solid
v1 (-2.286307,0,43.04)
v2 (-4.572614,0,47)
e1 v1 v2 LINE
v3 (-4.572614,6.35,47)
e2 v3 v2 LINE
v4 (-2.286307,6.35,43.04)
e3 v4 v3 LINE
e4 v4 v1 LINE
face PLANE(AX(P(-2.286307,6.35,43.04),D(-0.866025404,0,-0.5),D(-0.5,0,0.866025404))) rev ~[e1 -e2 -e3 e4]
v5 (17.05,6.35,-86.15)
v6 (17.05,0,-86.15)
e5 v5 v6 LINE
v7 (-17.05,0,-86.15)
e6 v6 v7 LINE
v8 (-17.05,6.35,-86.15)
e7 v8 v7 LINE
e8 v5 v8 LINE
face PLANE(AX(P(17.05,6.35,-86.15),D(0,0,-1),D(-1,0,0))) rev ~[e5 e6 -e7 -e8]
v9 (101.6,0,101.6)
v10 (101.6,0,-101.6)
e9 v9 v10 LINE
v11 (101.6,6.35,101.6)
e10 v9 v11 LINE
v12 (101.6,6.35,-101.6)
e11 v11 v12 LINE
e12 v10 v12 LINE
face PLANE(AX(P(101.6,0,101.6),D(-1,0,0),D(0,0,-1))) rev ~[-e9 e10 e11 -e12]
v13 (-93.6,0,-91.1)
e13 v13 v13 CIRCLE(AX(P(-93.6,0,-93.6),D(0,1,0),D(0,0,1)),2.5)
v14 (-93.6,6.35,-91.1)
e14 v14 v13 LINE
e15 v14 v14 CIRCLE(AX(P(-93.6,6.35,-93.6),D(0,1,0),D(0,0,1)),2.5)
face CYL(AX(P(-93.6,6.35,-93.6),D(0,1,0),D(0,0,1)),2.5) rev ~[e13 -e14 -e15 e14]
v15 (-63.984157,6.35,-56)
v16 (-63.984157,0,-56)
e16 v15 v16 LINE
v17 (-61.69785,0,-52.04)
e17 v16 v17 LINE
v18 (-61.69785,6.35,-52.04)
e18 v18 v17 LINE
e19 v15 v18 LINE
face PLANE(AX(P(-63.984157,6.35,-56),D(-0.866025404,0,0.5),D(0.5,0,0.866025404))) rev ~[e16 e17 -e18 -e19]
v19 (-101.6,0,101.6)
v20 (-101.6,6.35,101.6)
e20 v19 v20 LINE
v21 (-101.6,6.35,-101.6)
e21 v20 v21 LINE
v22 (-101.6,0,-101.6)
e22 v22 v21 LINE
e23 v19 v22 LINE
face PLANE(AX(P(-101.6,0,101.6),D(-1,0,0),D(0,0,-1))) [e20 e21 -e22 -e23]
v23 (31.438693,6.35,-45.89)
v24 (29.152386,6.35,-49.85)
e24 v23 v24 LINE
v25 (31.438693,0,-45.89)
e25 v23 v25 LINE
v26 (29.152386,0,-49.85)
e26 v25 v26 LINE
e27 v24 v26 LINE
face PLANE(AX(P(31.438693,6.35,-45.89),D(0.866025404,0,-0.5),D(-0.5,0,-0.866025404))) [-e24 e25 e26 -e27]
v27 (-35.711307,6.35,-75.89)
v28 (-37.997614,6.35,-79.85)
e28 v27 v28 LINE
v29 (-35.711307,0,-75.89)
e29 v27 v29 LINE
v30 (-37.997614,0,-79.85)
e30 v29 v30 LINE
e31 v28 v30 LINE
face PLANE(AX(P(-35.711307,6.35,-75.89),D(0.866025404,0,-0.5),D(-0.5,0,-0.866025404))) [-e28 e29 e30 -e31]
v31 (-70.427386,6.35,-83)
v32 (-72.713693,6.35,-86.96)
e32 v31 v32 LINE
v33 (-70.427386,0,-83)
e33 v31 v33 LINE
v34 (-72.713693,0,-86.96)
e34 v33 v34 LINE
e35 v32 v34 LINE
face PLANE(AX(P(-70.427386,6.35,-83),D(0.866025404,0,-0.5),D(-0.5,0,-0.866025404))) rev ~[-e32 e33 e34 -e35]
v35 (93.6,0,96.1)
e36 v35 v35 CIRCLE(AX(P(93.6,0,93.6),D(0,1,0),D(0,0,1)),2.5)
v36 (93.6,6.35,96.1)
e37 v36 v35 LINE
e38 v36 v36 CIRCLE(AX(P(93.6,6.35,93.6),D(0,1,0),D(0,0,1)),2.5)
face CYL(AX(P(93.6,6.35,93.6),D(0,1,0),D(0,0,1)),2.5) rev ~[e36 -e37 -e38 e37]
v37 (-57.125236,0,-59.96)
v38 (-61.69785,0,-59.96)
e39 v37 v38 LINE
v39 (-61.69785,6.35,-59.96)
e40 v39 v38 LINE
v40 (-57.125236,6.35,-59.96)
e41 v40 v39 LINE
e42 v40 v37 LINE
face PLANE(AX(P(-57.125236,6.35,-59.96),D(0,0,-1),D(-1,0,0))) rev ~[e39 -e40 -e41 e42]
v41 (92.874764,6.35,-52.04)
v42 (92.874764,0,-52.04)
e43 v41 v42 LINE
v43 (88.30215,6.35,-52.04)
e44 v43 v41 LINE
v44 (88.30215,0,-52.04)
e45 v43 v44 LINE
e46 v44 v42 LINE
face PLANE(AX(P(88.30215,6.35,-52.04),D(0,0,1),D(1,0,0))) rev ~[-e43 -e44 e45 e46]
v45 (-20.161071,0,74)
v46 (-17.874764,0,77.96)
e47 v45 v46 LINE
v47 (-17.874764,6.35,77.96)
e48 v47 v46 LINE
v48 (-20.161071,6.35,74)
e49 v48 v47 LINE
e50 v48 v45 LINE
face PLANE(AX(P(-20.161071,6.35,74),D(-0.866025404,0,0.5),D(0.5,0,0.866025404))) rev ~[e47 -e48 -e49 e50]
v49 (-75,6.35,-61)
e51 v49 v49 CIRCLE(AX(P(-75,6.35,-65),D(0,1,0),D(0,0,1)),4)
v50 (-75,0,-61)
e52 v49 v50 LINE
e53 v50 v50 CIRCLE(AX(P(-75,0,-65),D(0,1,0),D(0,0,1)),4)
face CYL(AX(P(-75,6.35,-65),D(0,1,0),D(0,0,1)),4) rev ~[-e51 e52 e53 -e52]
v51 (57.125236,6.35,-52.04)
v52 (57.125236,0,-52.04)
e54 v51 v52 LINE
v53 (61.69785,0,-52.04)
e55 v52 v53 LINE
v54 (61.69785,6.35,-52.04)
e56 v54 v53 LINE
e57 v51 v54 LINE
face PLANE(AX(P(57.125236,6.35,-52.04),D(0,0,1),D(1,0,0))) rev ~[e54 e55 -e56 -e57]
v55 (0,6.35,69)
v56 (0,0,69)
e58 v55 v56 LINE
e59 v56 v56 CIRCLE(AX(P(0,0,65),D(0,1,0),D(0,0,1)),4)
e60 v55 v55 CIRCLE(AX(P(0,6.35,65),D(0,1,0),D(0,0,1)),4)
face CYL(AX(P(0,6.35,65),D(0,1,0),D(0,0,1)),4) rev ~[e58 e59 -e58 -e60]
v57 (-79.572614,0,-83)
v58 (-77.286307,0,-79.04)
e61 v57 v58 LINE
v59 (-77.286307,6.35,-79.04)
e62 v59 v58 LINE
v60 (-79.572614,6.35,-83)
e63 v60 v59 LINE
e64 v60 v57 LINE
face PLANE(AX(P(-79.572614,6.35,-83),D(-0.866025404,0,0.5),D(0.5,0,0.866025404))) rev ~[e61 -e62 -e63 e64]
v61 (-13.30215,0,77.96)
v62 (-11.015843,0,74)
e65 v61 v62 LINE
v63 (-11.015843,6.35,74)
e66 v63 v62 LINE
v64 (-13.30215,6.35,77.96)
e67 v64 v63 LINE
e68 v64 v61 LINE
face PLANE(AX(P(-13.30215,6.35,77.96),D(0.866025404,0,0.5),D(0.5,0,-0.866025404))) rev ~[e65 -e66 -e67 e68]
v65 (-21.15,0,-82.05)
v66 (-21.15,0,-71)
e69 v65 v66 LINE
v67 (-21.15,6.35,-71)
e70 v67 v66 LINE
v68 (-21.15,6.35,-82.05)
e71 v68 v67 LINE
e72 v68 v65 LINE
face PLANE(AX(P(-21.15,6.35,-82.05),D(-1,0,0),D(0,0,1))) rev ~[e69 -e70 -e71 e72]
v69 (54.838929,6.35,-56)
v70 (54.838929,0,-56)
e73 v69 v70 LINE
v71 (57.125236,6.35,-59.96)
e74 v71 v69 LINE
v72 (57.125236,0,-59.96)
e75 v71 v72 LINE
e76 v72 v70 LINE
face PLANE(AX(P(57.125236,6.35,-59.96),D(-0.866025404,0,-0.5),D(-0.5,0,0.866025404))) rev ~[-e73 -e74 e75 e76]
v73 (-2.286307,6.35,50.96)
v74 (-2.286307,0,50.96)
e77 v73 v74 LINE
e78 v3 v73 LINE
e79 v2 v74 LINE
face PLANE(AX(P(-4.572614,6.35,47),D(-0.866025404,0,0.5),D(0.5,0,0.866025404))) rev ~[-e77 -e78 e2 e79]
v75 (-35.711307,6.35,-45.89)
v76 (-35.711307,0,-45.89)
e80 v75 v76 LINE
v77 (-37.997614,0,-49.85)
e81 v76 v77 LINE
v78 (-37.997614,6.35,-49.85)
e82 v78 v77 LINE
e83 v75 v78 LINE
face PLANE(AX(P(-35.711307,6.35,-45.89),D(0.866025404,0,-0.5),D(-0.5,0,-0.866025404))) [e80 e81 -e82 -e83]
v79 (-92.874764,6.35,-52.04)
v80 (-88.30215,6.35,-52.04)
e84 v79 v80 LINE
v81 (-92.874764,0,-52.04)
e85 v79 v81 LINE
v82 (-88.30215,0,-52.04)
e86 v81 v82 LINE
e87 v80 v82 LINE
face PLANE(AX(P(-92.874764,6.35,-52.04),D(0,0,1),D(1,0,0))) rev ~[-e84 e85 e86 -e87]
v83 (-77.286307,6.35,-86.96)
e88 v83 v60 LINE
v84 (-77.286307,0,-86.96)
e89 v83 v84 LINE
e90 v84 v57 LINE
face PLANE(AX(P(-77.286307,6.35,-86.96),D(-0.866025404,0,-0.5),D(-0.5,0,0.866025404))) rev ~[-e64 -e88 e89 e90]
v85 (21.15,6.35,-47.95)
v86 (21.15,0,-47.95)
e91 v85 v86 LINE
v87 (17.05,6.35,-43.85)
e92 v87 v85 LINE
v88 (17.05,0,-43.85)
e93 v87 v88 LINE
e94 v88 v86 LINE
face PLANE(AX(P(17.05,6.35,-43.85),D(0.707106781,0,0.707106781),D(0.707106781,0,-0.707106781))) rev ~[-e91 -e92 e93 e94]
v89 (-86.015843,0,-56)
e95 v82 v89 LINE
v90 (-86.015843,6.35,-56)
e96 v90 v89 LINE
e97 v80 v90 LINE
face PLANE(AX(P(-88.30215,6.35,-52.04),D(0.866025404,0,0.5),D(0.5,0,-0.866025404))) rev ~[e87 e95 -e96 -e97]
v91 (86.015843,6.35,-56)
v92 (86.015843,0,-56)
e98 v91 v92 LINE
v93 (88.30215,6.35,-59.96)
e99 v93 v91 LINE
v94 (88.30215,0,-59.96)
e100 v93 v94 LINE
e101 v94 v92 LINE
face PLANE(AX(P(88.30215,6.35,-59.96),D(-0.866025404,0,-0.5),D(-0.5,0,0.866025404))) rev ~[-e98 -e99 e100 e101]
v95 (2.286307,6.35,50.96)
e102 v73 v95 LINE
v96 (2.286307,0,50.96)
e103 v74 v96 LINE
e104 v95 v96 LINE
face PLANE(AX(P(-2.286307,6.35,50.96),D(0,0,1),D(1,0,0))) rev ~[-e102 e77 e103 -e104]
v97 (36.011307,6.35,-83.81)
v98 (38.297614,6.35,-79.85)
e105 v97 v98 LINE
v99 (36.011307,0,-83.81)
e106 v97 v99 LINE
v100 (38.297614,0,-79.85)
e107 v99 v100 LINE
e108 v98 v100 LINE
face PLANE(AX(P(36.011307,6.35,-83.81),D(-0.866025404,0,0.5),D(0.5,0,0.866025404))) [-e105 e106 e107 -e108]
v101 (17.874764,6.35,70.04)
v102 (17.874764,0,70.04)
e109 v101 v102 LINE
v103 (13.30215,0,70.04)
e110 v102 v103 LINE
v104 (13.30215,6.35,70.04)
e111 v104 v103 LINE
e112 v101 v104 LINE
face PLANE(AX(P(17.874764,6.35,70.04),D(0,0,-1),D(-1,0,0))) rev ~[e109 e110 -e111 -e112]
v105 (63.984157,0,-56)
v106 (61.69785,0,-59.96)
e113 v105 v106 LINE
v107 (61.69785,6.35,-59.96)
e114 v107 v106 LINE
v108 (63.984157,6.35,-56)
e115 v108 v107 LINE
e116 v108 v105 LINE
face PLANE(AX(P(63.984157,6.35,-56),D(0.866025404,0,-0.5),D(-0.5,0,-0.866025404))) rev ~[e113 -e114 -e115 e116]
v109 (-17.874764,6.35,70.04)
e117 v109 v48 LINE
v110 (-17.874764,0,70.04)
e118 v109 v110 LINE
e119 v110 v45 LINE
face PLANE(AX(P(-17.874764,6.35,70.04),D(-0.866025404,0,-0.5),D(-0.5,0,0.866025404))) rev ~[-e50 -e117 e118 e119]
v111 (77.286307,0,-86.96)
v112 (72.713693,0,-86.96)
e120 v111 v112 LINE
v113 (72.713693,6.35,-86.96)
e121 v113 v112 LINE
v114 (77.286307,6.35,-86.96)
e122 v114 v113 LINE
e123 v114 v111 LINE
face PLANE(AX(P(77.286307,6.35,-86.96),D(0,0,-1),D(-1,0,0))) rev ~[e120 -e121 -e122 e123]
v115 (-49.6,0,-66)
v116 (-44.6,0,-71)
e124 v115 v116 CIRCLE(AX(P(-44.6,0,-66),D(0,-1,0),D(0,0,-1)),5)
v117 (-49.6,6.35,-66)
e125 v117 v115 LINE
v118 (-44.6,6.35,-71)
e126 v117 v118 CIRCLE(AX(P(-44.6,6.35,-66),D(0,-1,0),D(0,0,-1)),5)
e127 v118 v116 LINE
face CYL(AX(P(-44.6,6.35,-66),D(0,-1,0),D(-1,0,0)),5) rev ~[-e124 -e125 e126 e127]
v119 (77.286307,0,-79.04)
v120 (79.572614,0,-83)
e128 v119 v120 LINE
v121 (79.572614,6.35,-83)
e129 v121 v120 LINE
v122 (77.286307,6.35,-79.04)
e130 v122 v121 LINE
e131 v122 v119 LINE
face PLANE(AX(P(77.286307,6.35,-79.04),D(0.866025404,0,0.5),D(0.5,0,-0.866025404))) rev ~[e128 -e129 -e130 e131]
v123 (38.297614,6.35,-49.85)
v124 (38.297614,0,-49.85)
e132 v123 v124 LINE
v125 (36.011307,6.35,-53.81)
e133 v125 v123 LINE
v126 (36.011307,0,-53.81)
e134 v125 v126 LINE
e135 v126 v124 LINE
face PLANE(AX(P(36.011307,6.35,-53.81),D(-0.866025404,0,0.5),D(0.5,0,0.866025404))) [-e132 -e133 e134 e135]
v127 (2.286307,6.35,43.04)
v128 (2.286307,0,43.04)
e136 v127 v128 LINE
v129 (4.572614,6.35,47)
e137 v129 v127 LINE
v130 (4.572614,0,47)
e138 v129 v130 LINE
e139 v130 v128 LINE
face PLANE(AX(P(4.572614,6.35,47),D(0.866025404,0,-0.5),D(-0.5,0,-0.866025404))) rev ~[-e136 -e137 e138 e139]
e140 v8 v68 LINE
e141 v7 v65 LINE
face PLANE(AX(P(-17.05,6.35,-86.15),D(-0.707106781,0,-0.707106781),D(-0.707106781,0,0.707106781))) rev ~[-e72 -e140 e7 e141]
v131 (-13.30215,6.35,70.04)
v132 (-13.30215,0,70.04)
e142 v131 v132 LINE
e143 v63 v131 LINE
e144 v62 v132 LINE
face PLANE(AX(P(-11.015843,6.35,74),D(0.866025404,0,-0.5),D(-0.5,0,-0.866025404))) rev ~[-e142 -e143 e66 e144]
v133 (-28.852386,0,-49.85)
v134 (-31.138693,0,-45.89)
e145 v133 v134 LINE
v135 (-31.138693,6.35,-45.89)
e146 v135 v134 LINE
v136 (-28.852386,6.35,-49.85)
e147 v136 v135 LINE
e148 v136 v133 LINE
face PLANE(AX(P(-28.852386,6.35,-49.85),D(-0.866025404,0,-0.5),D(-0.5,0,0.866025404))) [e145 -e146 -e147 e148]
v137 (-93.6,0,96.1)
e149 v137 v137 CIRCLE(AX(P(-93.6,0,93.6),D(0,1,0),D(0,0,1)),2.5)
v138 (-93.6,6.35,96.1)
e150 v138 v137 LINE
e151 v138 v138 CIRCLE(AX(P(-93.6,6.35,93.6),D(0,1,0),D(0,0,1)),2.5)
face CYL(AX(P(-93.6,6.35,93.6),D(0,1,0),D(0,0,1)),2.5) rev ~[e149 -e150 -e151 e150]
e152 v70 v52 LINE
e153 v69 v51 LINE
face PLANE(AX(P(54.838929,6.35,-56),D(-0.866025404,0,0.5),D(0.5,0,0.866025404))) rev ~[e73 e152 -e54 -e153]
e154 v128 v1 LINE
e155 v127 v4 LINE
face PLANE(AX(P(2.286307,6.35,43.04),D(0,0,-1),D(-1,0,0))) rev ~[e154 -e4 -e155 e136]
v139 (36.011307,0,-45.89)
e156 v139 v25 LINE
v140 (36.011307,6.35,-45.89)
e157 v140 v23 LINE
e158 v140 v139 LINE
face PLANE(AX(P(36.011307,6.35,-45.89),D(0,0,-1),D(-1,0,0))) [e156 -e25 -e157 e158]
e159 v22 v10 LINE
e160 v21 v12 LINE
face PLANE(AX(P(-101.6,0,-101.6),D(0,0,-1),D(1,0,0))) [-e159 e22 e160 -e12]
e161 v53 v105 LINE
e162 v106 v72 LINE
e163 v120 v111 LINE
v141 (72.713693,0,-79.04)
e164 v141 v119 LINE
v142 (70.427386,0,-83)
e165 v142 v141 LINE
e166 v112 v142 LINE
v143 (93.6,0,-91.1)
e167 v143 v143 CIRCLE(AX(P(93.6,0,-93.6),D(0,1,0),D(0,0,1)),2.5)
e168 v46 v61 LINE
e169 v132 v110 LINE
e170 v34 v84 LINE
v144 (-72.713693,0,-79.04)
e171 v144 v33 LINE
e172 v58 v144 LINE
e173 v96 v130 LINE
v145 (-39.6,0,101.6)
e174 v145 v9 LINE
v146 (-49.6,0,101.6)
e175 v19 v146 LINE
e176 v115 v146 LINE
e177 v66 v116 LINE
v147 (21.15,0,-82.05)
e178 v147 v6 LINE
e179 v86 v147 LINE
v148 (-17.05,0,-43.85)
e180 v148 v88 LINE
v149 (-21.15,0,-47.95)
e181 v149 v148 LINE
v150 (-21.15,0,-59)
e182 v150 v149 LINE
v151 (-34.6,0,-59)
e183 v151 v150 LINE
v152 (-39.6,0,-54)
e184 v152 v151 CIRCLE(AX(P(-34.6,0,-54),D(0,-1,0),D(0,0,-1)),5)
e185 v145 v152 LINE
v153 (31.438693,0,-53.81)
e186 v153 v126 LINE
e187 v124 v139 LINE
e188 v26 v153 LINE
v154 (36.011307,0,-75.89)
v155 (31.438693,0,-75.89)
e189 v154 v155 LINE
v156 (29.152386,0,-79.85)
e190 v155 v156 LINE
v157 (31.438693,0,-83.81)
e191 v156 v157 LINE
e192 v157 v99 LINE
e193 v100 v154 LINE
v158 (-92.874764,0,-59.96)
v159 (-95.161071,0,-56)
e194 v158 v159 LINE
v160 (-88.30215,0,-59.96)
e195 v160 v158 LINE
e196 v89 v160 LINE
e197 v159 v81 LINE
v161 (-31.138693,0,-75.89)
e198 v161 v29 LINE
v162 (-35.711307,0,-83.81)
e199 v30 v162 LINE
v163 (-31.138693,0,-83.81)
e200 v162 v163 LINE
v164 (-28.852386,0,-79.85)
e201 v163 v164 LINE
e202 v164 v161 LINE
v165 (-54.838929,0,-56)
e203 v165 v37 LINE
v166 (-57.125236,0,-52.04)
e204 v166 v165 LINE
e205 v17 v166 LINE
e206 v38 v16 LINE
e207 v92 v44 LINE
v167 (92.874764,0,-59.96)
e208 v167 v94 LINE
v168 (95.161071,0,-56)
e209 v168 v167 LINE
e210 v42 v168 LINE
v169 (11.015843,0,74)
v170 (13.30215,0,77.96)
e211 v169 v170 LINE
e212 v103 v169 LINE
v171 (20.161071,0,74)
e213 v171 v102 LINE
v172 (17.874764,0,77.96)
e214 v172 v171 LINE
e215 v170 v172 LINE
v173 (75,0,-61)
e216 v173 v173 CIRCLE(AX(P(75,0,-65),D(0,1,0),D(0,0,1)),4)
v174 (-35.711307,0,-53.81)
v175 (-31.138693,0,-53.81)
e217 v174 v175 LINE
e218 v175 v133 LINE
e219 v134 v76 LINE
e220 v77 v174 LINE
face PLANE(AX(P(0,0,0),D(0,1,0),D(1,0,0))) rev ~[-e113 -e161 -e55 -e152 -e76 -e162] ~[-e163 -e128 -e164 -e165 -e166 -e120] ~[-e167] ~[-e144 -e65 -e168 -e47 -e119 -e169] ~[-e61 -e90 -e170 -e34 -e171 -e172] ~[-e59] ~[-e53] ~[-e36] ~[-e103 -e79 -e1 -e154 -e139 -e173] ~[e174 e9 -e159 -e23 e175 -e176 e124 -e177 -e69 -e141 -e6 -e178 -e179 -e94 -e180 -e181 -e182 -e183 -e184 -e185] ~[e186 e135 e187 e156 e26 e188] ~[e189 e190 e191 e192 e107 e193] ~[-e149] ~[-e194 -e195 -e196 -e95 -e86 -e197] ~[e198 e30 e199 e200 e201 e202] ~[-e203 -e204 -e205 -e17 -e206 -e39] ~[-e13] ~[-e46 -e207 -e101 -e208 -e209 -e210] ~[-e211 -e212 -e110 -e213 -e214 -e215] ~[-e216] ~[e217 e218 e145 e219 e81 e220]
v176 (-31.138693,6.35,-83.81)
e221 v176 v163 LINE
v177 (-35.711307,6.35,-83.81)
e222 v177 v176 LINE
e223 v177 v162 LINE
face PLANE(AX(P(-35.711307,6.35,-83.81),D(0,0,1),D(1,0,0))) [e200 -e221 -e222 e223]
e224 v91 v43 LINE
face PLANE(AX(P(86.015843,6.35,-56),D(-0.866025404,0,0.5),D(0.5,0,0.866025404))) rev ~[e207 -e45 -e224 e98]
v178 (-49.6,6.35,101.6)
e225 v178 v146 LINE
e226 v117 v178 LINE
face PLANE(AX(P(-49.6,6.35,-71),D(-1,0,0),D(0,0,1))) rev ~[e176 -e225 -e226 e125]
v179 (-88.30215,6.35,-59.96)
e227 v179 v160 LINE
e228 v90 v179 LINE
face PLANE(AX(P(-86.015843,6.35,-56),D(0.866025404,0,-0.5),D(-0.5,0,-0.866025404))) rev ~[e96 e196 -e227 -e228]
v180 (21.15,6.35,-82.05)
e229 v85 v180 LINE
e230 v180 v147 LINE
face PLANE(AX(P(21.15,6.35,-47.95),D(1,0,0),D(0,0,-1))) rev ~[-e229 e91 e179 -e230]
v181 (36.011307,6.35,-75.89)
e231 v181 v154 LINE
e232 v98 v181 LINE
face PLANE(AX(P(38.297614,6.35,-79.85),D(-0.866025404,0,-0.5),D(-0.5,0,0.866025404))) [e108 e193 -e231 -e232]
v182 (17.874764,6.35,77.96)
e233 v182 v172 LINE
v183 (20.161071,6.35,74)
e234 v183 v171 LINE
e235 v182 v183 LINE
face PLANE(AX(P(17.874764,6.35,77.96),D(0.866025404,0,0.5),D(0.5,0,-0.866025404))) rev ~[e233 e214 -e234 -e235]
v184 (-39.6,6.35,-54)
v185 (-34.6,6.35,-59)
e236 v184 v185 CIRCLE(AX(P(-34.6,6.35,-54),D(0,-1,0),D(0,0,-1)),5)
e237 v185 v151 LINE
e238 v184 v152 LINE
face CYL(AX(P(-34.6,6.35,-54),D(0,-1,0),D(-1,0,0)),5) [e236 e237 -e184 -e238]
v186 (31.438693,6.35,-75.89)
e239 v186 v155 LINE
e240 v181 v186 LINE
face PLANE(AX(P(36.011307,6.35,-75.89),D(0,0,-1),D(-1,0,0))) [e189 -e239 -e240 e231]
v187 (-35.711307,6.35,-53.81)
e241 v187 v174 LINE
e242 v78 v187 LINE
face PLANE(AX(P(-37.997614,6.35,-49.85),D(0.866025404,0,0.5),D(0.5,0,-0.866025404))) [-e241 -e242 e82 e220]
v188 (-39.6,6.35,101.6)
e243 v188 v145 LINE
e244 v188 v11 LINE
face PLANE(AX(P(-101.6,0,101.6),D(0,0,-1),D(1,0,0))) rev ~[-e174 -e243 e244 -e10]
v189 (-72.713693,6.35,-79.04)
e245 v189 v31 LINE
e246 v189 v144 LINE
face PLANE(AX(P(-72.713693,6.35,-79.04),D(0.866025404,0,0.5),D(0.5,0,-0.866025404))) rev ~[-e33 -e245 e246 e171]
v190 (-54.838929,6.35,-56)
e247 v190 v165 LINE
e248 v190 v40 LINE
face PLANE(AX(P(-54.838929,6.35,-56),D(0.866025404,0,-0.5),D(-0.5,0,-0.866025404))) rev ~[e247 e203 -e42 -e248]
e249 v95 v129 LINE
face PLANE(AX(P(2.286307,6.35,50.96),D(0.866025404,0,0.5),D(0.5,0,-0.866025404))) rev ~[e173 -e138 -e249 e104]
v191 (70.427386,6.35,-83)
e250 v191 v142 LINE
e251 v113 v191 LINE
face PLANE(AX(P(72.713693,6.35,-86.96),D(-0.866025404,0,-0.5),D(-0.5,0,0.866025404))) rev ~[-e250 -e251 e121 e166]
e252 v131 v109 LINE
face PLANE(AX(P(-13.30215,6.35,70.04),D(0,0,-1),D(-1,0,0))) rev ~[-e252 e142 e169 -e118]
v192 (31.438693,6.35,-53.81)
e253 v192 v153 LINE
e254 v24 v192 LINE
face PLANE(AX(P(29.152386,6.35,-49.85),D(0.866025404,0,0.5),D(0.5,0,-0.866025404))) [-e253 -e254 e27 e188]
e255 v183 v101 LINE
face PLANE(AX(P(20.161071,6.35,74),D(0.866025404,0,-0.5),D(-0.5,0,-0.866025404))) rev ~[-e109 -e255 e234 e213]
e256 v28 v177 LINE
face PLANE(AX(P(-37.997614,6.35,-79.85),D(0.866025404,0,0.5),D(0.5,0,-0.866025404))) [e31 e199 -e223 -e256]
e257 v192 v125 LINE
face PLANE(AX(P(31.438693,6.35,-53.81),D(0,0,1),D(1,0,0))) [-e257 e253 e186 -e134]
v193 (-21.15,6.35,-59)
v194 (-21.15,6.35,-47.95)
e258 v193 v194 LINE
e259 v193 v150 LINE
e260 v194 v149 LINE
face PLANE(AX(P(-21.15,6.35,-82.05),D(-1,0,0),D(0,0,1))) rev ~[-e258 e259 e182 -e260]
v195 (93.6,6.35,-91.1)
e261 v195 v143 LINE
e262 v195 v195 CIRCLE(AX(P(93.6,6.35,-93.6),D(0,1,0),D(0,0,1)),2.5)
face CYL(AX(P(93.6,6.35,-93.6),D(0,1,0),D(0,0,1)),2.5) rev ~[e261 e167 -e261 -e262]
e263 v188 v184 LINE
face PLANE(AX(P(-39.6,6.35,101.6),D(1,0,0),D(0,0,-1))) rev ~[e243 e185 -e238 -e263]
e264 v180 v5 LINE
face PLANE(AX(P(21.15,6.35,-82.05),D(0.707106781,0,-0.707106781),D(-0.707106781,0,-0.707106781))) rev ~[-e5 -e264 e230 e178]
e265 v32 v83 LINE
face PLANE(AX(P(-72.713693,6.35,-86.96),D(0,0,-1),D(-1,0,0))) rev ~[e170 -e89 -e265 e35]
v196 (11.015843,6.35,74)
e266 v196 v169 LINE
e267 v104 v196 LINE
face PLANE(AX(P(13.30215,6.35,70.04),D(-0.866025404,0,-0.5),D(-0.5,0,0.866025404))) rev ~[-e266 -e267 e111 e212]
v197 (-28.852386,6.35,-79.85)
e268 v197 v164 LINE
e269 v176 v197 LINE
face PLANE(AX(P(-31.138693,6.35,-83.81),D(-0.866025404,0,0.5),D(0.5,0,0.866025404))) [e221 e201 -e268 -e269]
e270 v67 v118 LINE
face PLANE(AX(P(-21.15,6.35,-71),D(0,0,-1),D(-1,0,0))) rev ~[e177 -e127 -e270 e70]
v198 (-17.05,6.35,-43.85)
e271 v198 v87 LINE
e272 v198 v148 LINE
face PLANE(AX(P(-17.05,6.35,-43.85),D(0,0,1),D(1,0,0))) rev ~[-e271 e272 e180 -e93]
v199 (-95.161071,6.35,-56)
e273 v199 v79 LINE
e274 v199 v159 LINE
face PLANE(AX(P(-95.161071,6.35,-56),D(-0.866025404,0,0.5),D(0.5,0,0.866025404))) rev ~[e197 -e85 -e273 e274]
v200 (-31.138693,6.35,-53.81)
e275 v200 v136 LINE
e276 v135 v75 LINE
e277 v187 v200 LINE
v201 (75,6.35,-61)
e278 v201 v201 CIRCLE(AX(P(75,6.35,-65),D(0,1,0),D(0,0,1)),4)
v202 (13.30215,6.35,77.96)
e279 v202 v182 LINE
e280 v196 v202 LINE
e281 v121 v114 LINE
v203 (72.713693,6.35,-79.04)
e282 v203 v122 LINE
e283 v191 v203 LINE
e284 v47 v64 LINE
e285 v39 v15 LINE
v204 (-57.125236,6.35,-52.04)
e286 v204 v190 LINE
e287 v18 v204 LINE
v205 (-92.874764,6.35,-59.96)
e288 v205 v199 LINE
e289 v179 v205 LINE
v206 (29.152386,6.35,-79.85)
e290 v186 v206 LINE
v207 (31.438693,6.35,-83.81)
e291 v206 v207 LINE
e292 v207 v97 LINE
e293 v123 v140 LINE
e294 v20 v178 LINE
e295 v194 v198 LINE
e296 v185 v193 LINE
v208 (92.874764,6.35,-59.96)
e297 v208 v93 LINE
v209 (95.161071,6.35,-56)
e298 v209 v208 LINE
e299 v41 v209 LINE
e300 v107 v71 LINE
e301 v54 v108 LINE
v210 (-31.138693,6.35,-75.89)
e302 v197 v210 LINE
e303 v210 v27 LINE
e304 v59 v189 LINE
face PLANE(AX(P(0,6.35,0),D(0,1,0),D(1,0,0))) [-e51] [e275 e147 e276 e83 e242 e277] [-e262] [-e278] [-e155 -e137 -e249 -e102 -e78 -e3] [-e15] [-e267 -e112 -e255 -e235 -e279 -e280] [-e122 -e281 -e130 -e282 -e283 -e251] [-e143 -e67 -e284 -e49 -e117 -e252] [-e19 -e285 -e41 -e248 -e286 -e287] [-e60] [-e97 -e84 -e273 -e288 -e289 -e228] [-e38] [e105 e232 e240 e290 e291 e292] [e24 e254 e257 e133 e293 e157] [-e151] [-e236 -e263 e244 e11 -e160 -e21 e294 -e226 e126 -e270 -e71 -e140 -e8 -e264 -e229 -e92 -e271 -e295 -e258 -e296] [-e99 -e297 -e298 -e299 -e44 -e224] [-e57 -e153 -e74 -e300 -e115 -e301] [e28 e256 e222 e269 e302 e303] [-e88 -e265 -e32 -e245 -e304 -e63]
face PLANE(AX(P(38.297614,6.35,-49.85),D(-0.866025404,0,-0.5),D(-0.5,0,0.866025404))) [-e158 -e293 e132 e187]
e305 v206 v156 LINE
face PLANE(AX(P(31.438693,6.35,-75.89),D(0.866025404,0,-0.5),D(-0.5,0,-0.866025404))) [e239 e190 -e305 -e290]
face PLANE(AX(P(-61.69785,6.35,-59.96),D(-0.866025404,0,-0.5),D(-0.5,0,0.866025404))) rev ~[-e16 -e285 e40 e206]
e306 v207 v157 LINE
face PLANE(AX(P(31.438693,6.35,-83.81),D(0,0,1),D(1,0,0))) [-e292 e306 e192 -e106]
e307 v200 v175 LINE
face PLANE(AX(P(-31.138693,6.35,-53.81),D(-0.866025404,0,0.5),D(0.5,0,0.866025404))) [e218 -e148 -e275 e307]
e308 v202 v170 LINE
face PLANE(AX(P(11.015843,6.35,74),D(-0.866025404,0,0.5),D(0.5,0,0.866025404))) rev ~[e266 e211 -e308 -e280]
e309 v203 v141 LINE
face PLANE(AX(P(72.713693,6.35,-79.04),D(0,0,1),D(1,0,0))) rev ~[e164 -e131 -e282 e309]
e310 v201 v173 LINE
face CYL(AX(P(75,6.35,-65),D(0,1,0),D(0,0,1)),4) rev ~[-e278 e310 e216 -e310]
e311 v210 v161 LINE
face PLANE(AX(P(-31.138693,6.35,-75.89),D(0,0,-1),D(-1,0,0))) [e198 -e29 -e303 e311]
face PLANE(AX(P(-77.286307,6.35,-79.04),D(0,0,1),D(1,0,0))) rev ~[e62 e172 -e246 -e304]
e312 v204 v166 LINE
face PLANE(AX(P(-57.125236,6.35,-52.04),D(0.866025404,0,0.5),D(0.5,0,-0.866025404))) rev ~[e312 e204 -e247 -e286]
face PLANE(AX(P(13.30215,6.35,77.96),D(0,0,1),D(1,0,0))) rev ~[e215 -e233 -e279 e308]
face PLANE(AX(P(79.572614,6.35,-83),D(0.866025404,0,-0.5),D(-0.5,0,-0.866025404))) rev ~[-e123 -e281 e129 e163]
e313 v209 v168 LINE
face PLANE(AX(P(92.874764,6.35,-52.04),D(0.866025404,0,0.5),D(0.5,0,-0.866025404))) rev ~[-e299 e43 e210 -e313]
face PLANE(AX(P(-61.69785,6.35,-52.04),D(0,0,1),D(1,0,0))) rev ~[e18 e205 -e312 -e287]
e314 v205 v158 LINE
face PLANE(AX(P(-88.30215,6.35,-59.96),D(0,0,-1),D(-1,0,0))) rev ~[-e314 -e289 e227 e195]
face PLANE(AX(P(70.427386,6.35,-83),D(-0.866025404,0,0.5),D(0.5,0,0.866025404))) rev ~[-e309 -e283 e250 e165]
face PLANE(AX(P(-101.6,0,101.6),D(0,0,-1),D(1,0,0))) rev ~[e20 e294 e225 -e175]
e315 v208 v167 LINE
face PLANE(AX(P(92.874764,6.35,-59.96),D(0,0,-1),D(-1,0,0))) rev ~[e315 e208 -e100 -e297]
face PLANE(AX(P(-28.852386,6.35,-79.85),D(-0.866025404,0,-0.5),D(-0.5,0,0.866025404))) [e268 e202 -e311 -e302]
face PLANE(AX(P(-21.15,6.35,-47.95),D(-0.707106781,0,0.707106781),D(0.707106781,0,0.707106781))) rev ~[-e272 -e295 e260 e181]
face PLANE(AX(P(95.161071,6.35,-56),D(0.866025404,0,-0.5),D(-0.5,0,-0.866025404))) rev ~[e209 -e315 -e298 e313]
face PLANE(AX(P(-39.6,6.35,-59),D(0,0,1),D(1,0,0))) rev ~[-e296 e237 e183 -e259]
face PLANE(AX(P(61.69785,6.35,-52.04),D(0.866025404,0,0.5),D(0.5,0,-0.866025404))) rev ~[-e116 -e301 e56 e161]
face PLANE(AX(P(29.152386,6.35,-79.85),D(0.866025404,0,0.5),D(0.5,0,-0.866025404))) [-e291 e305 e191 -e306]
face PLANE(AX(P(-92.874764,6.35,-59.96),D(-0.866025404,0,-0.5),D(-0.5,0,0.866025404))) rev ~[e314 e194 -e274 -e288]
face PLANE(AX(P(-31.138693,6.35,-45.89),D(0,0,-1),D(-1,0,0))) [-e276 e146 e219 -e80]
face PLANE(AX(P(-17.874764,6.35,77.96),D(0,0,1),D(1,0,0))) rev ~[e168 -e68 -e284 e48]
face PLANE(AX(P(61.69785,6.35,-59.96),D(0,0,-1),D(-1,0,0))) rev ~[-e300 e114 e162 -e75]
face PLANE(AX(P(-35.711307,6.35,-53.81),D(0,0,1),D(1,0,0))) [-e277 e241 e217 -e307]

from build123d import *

# Parameters (mm, degrees)
ESQUISSE1_W              = 203.2
ESQUISSE1_H              = 203.2
BOSS_EXTRU_1_DEPTH       = 6.35
ESQUISSE2_R              = 4
ENL_V_MAT_EXTRU_1_DEPTH  = 144.824345992
ENL_V_MAT_EXTRU_2_DEPTH  = 144.824345992
ENL_V_MAT_EXTRU_3_DEPTH  = 144.824345992
CONG_1_R                 = 5
ENL_V_MAT_EXTRU_5_DEPTH  = 144.824345992
ENL_V_MAT_EXTRU_6_DEPTH  = 144.824345992
ENL_V_MAT_EXTRU_7_DEPTH  = 144.824345992
ENL_V_MAT_EXTRU_8_DEPTH  = 144.824345992
ENL_V_MAT_EXTRU_9_DEPTH  = 144.824345992
ESQUISSE11_R             = 2.5
ENL_V_MAT_EXTRU_10_DEPTH = 144.824345992


with BuildPart() as part:
    # Esquisse1 → Boss.-Extru.1 (new body)
    with BuildSketch(Plane(origin=(0, 0, 0), x_dir=(1, 0, 0), z_dir=(0, 1, 0))):
        Rectangle(ESQUISSE1_W, ESQUISSE1_H)
    extrude(amount=BOSS_EXTRU_1_DEPTH)

    # Esquisse2 → Enlèv. mat.-Extru.1 (cut, through all)
    with BuildSketch(Plane(origin=(0, 6.35, 0), x_dir=(1, 0, 0), z_dir=(0, 1, 0))):
        with Locations(Location((-75, 65, 0), (0, 0, 270))):
            Circle(ESQUISSE2_R)
        with Locations(Location((75, 65, 0), (0, 0, 270))):
            Circle(ESQUISSE2_R)
        with Locations(Location((0, -65, 0), (0, 0, 270))):
            Circle(ESQUISSE2_R)
    extrude(amount=-ENL_V_MAT_EXTRU_1_DEPTH, mode=Mode.SUBTRACT)

    # Esquisse3 → Enlèv. mat.-Extru.2 (cut, through all)
    with BuildSketch(Plane(origin=(0, 6.35, 0), x_dir=(1, 0, 0), z_dir=(0, 1, 0))):
        Polygon((-17.05, 86.15), (-21.15, 82.05), (-21.15, 47.95), (-17.05, 43.85), (17.05, 43.85), (21.15, 47.95), (21.15, 82.05), (17.05, 86.15), align=None)
    extrude(amount=-ENL_V_MAT_EXTRU_2_DEPTH, mode=Mode.SUBTRACT)

    # Esquisse4 → Enlèv. mat.-Extru.3 (cut, through all)
    with BuildSketch(Plane(origin=(0, 6.35, 0), x_dir=(1, 0, 0), z_dir=(0, 1, 0))):
        Polygon((-49.6, -101.6), (-39.6, -101.6), (-39.6, 59), (-21.15, 59), (-21.15, 71), (-49.6, 71), align=None)
    extrude(amount=-ENL_V_MAT_EXTRU_3_DEPTH, mode=Mode.SUBTRACT)

    # Congé1
    cong_1_edges = [part.edges().sort_by_distance(p)[0] for p in [
        (-49.6, 3.175, -71),
        (-39.6, 3.175, -59),
    ]]
    fillet(cong_1_edges, radius=CONG_1_R)

    # Esquisse5 → Enlèv. mat.-Extru.5 (cut, through all)
    with BuildSketch(Plane(origin=(0, 6.35, 0), x_dir=(1, 0, 0), z_dir=(0, 1, 0))):
        Polygon((-28.852385868, 49.85), (-31.138692934, 45.89), (-35.711307066, 45.89), (-37.997614132, 49.85), (-35.711307066, 53.81), (-31.138692934, 53.81), align=None)
    extrude(amount=-ENL_V_MAT_EXTRU_5_DEPTH, mode=Mode.SUBTRACT)

    # Esquisse7 → Enlèv. mat.-Extru.6 (cut, through all)
    with BuildSketch(Plane(origin=(0, 6.35, 0), x_dir=(1, 0, 0), z_dir=(0, 1, 0))):
        Polygon((-31.138692934, 75.89), (-35.711307066, 75.89), (-37.997614132, 79.85), (-35.711307066, 83.81), (-31.138692934, 83.81), (-28.852385868, 79.85), align=None)
    extrude(amount=-ENL_V_MAT_EXTRU_6_DEPTH, mode=Mode.SUBTRACT)

    # Esquisse8 → Enlèv. mat.-Extru.7 (cut, through all)
    with BuildSketch(Plane(origin=(0, 6.35, 0), x_dir=(1, 0, 0), z_dir=(0, 1, 0))):
        Polygon((36.011307066, 45.89), (31.438692934, 45.89), (29.152385868, 49.85), (31.438692934, 53.81), (36.011307066, 53.81), (38.297614132, 49.85), align=None)
    extrude(amount=-ENL_V_MAT_EXTRU_7_DEPTH, mode=Mode.SUBTRACT)

    # Esquisse9 → Enlèv. mat.-Extru.8 (cut, through all)
    with BuildSketch(Plane(origin=(0, 6.35, 0), x_dir=(1, 0, 0), z_dir=(0, 1, 0))):
        Polygon((36.011307066, 75.89), (31.438692934, 75.89), (29.152385868, 79.85), (31.438692934, 83.81), (36.011307066, 83.81), (38.297614132, 79.85), align=None)
    extrude(amount=-ENL_V_MAT_EXTRU_8_DEPTH, mode=Mode.SUBTRACT)

    # Esquisse10 → Enlèv. mat.-Extru.9 (cut, through all)
    with BuildSketch(Plane(origin=(0, 6.35, 0), x_dir=(1, 0, 0), z_dir=(0, 1, 0))):
        Polygon((20.1610714, -74), (17.874764334, -70.04), (13.302150202, -70.04), (11.015843136, -74), (13.302150202, -77.96), (17.874764334, -77.96), align=None)
        Polygon((-20.1610714, -74), (-17.874764334, -77.96), (-13.302150202, -77.96), (-11.015843136, -74), (-13.302150202, -70.04), (-17.874764334, -70.04), align=None)
        Polygon((-4.572614132, -47), (-2.286307066, -50.96), (2.286307066, -50.96), (4.572614132, -47), (2.286307066, -43.04), (-2.286307066, -43.04), align=None)
        Polygon((-63.984156864, 56), (-61.697849798, 52.04), (-57.125235666, 52.04), (-54.8389286, 56), (-57.125235666, 59.96), (-61.697849798, 59.96), align=None)
        Polygon((-95.1610714, 56), (-92.874764334, 52.04), (-88.302150202, 52.04), (-86.015843136, 56), (-88.302150202, 59.96), (-92.874764334, 59.96), align=None)
        Polygon((-79.572614132, 83), (-77.286307066, 79.04), (-72.713692934, 79.04), (-70.427385868, 83), (-72.713692934, 86.96), (-77.286307066, 86.96), align=None)
        Polygon((54.8389286, 56), (57.125235666, 52.04), (61.697849798, 52.04), (63.984156864, 56), (61.697849798, 59.96), (57.125235666, 59.96), align=None)
        Polygon((95.1610714, 56), (92.874764334, 59.96), (88.302150202, 59.96), (86.015843136, 56), (88.302150202, 52.04), (92.874764334, 52.04), align=None)
        Polygon((70.427385868, 83), (72.713692934, 79.04), (77.286307066, 79.04), (79.572614132, 83), (77.286307066, 86.96), (72.713692934, 86.96), align=None)
    extrude(amount=-ENL_V_MAT_EXTRU_9_DEPTH, mode=Mode.SUBTRACT)

    # Esquisse11 → Enlèv. mat.-Extru.10 (cut, through all)
    with BuildSketch(Plane(origin=(0, 6.35, 0), x_dir=(1, 0, 0), z_dir=(0, 1, 0))):
        with Locations(Location((93.6, 93.6, 0), (0, 0, 270))):
            Circle(ESQUISSE11_R)
        with Locations(Location((-93.6, 93.6, 0), (0, 0, 270))):
            Circle(ESQUISSE11_R)
        with Locations(Location((-93.6, -93.6, 0), (0, 0, 270))):
            Circle(ESQUISSE11_R)
        with Locations(Location((93.6, -93.6, 0), (0, 0, 270))):
            Circle(ESQUISSE11_R)
    extrude(amount=-ENL_V_MAT_EXTRU_10_DEPTH, mode=Mode.SUBTRACT)


solid = part.part
